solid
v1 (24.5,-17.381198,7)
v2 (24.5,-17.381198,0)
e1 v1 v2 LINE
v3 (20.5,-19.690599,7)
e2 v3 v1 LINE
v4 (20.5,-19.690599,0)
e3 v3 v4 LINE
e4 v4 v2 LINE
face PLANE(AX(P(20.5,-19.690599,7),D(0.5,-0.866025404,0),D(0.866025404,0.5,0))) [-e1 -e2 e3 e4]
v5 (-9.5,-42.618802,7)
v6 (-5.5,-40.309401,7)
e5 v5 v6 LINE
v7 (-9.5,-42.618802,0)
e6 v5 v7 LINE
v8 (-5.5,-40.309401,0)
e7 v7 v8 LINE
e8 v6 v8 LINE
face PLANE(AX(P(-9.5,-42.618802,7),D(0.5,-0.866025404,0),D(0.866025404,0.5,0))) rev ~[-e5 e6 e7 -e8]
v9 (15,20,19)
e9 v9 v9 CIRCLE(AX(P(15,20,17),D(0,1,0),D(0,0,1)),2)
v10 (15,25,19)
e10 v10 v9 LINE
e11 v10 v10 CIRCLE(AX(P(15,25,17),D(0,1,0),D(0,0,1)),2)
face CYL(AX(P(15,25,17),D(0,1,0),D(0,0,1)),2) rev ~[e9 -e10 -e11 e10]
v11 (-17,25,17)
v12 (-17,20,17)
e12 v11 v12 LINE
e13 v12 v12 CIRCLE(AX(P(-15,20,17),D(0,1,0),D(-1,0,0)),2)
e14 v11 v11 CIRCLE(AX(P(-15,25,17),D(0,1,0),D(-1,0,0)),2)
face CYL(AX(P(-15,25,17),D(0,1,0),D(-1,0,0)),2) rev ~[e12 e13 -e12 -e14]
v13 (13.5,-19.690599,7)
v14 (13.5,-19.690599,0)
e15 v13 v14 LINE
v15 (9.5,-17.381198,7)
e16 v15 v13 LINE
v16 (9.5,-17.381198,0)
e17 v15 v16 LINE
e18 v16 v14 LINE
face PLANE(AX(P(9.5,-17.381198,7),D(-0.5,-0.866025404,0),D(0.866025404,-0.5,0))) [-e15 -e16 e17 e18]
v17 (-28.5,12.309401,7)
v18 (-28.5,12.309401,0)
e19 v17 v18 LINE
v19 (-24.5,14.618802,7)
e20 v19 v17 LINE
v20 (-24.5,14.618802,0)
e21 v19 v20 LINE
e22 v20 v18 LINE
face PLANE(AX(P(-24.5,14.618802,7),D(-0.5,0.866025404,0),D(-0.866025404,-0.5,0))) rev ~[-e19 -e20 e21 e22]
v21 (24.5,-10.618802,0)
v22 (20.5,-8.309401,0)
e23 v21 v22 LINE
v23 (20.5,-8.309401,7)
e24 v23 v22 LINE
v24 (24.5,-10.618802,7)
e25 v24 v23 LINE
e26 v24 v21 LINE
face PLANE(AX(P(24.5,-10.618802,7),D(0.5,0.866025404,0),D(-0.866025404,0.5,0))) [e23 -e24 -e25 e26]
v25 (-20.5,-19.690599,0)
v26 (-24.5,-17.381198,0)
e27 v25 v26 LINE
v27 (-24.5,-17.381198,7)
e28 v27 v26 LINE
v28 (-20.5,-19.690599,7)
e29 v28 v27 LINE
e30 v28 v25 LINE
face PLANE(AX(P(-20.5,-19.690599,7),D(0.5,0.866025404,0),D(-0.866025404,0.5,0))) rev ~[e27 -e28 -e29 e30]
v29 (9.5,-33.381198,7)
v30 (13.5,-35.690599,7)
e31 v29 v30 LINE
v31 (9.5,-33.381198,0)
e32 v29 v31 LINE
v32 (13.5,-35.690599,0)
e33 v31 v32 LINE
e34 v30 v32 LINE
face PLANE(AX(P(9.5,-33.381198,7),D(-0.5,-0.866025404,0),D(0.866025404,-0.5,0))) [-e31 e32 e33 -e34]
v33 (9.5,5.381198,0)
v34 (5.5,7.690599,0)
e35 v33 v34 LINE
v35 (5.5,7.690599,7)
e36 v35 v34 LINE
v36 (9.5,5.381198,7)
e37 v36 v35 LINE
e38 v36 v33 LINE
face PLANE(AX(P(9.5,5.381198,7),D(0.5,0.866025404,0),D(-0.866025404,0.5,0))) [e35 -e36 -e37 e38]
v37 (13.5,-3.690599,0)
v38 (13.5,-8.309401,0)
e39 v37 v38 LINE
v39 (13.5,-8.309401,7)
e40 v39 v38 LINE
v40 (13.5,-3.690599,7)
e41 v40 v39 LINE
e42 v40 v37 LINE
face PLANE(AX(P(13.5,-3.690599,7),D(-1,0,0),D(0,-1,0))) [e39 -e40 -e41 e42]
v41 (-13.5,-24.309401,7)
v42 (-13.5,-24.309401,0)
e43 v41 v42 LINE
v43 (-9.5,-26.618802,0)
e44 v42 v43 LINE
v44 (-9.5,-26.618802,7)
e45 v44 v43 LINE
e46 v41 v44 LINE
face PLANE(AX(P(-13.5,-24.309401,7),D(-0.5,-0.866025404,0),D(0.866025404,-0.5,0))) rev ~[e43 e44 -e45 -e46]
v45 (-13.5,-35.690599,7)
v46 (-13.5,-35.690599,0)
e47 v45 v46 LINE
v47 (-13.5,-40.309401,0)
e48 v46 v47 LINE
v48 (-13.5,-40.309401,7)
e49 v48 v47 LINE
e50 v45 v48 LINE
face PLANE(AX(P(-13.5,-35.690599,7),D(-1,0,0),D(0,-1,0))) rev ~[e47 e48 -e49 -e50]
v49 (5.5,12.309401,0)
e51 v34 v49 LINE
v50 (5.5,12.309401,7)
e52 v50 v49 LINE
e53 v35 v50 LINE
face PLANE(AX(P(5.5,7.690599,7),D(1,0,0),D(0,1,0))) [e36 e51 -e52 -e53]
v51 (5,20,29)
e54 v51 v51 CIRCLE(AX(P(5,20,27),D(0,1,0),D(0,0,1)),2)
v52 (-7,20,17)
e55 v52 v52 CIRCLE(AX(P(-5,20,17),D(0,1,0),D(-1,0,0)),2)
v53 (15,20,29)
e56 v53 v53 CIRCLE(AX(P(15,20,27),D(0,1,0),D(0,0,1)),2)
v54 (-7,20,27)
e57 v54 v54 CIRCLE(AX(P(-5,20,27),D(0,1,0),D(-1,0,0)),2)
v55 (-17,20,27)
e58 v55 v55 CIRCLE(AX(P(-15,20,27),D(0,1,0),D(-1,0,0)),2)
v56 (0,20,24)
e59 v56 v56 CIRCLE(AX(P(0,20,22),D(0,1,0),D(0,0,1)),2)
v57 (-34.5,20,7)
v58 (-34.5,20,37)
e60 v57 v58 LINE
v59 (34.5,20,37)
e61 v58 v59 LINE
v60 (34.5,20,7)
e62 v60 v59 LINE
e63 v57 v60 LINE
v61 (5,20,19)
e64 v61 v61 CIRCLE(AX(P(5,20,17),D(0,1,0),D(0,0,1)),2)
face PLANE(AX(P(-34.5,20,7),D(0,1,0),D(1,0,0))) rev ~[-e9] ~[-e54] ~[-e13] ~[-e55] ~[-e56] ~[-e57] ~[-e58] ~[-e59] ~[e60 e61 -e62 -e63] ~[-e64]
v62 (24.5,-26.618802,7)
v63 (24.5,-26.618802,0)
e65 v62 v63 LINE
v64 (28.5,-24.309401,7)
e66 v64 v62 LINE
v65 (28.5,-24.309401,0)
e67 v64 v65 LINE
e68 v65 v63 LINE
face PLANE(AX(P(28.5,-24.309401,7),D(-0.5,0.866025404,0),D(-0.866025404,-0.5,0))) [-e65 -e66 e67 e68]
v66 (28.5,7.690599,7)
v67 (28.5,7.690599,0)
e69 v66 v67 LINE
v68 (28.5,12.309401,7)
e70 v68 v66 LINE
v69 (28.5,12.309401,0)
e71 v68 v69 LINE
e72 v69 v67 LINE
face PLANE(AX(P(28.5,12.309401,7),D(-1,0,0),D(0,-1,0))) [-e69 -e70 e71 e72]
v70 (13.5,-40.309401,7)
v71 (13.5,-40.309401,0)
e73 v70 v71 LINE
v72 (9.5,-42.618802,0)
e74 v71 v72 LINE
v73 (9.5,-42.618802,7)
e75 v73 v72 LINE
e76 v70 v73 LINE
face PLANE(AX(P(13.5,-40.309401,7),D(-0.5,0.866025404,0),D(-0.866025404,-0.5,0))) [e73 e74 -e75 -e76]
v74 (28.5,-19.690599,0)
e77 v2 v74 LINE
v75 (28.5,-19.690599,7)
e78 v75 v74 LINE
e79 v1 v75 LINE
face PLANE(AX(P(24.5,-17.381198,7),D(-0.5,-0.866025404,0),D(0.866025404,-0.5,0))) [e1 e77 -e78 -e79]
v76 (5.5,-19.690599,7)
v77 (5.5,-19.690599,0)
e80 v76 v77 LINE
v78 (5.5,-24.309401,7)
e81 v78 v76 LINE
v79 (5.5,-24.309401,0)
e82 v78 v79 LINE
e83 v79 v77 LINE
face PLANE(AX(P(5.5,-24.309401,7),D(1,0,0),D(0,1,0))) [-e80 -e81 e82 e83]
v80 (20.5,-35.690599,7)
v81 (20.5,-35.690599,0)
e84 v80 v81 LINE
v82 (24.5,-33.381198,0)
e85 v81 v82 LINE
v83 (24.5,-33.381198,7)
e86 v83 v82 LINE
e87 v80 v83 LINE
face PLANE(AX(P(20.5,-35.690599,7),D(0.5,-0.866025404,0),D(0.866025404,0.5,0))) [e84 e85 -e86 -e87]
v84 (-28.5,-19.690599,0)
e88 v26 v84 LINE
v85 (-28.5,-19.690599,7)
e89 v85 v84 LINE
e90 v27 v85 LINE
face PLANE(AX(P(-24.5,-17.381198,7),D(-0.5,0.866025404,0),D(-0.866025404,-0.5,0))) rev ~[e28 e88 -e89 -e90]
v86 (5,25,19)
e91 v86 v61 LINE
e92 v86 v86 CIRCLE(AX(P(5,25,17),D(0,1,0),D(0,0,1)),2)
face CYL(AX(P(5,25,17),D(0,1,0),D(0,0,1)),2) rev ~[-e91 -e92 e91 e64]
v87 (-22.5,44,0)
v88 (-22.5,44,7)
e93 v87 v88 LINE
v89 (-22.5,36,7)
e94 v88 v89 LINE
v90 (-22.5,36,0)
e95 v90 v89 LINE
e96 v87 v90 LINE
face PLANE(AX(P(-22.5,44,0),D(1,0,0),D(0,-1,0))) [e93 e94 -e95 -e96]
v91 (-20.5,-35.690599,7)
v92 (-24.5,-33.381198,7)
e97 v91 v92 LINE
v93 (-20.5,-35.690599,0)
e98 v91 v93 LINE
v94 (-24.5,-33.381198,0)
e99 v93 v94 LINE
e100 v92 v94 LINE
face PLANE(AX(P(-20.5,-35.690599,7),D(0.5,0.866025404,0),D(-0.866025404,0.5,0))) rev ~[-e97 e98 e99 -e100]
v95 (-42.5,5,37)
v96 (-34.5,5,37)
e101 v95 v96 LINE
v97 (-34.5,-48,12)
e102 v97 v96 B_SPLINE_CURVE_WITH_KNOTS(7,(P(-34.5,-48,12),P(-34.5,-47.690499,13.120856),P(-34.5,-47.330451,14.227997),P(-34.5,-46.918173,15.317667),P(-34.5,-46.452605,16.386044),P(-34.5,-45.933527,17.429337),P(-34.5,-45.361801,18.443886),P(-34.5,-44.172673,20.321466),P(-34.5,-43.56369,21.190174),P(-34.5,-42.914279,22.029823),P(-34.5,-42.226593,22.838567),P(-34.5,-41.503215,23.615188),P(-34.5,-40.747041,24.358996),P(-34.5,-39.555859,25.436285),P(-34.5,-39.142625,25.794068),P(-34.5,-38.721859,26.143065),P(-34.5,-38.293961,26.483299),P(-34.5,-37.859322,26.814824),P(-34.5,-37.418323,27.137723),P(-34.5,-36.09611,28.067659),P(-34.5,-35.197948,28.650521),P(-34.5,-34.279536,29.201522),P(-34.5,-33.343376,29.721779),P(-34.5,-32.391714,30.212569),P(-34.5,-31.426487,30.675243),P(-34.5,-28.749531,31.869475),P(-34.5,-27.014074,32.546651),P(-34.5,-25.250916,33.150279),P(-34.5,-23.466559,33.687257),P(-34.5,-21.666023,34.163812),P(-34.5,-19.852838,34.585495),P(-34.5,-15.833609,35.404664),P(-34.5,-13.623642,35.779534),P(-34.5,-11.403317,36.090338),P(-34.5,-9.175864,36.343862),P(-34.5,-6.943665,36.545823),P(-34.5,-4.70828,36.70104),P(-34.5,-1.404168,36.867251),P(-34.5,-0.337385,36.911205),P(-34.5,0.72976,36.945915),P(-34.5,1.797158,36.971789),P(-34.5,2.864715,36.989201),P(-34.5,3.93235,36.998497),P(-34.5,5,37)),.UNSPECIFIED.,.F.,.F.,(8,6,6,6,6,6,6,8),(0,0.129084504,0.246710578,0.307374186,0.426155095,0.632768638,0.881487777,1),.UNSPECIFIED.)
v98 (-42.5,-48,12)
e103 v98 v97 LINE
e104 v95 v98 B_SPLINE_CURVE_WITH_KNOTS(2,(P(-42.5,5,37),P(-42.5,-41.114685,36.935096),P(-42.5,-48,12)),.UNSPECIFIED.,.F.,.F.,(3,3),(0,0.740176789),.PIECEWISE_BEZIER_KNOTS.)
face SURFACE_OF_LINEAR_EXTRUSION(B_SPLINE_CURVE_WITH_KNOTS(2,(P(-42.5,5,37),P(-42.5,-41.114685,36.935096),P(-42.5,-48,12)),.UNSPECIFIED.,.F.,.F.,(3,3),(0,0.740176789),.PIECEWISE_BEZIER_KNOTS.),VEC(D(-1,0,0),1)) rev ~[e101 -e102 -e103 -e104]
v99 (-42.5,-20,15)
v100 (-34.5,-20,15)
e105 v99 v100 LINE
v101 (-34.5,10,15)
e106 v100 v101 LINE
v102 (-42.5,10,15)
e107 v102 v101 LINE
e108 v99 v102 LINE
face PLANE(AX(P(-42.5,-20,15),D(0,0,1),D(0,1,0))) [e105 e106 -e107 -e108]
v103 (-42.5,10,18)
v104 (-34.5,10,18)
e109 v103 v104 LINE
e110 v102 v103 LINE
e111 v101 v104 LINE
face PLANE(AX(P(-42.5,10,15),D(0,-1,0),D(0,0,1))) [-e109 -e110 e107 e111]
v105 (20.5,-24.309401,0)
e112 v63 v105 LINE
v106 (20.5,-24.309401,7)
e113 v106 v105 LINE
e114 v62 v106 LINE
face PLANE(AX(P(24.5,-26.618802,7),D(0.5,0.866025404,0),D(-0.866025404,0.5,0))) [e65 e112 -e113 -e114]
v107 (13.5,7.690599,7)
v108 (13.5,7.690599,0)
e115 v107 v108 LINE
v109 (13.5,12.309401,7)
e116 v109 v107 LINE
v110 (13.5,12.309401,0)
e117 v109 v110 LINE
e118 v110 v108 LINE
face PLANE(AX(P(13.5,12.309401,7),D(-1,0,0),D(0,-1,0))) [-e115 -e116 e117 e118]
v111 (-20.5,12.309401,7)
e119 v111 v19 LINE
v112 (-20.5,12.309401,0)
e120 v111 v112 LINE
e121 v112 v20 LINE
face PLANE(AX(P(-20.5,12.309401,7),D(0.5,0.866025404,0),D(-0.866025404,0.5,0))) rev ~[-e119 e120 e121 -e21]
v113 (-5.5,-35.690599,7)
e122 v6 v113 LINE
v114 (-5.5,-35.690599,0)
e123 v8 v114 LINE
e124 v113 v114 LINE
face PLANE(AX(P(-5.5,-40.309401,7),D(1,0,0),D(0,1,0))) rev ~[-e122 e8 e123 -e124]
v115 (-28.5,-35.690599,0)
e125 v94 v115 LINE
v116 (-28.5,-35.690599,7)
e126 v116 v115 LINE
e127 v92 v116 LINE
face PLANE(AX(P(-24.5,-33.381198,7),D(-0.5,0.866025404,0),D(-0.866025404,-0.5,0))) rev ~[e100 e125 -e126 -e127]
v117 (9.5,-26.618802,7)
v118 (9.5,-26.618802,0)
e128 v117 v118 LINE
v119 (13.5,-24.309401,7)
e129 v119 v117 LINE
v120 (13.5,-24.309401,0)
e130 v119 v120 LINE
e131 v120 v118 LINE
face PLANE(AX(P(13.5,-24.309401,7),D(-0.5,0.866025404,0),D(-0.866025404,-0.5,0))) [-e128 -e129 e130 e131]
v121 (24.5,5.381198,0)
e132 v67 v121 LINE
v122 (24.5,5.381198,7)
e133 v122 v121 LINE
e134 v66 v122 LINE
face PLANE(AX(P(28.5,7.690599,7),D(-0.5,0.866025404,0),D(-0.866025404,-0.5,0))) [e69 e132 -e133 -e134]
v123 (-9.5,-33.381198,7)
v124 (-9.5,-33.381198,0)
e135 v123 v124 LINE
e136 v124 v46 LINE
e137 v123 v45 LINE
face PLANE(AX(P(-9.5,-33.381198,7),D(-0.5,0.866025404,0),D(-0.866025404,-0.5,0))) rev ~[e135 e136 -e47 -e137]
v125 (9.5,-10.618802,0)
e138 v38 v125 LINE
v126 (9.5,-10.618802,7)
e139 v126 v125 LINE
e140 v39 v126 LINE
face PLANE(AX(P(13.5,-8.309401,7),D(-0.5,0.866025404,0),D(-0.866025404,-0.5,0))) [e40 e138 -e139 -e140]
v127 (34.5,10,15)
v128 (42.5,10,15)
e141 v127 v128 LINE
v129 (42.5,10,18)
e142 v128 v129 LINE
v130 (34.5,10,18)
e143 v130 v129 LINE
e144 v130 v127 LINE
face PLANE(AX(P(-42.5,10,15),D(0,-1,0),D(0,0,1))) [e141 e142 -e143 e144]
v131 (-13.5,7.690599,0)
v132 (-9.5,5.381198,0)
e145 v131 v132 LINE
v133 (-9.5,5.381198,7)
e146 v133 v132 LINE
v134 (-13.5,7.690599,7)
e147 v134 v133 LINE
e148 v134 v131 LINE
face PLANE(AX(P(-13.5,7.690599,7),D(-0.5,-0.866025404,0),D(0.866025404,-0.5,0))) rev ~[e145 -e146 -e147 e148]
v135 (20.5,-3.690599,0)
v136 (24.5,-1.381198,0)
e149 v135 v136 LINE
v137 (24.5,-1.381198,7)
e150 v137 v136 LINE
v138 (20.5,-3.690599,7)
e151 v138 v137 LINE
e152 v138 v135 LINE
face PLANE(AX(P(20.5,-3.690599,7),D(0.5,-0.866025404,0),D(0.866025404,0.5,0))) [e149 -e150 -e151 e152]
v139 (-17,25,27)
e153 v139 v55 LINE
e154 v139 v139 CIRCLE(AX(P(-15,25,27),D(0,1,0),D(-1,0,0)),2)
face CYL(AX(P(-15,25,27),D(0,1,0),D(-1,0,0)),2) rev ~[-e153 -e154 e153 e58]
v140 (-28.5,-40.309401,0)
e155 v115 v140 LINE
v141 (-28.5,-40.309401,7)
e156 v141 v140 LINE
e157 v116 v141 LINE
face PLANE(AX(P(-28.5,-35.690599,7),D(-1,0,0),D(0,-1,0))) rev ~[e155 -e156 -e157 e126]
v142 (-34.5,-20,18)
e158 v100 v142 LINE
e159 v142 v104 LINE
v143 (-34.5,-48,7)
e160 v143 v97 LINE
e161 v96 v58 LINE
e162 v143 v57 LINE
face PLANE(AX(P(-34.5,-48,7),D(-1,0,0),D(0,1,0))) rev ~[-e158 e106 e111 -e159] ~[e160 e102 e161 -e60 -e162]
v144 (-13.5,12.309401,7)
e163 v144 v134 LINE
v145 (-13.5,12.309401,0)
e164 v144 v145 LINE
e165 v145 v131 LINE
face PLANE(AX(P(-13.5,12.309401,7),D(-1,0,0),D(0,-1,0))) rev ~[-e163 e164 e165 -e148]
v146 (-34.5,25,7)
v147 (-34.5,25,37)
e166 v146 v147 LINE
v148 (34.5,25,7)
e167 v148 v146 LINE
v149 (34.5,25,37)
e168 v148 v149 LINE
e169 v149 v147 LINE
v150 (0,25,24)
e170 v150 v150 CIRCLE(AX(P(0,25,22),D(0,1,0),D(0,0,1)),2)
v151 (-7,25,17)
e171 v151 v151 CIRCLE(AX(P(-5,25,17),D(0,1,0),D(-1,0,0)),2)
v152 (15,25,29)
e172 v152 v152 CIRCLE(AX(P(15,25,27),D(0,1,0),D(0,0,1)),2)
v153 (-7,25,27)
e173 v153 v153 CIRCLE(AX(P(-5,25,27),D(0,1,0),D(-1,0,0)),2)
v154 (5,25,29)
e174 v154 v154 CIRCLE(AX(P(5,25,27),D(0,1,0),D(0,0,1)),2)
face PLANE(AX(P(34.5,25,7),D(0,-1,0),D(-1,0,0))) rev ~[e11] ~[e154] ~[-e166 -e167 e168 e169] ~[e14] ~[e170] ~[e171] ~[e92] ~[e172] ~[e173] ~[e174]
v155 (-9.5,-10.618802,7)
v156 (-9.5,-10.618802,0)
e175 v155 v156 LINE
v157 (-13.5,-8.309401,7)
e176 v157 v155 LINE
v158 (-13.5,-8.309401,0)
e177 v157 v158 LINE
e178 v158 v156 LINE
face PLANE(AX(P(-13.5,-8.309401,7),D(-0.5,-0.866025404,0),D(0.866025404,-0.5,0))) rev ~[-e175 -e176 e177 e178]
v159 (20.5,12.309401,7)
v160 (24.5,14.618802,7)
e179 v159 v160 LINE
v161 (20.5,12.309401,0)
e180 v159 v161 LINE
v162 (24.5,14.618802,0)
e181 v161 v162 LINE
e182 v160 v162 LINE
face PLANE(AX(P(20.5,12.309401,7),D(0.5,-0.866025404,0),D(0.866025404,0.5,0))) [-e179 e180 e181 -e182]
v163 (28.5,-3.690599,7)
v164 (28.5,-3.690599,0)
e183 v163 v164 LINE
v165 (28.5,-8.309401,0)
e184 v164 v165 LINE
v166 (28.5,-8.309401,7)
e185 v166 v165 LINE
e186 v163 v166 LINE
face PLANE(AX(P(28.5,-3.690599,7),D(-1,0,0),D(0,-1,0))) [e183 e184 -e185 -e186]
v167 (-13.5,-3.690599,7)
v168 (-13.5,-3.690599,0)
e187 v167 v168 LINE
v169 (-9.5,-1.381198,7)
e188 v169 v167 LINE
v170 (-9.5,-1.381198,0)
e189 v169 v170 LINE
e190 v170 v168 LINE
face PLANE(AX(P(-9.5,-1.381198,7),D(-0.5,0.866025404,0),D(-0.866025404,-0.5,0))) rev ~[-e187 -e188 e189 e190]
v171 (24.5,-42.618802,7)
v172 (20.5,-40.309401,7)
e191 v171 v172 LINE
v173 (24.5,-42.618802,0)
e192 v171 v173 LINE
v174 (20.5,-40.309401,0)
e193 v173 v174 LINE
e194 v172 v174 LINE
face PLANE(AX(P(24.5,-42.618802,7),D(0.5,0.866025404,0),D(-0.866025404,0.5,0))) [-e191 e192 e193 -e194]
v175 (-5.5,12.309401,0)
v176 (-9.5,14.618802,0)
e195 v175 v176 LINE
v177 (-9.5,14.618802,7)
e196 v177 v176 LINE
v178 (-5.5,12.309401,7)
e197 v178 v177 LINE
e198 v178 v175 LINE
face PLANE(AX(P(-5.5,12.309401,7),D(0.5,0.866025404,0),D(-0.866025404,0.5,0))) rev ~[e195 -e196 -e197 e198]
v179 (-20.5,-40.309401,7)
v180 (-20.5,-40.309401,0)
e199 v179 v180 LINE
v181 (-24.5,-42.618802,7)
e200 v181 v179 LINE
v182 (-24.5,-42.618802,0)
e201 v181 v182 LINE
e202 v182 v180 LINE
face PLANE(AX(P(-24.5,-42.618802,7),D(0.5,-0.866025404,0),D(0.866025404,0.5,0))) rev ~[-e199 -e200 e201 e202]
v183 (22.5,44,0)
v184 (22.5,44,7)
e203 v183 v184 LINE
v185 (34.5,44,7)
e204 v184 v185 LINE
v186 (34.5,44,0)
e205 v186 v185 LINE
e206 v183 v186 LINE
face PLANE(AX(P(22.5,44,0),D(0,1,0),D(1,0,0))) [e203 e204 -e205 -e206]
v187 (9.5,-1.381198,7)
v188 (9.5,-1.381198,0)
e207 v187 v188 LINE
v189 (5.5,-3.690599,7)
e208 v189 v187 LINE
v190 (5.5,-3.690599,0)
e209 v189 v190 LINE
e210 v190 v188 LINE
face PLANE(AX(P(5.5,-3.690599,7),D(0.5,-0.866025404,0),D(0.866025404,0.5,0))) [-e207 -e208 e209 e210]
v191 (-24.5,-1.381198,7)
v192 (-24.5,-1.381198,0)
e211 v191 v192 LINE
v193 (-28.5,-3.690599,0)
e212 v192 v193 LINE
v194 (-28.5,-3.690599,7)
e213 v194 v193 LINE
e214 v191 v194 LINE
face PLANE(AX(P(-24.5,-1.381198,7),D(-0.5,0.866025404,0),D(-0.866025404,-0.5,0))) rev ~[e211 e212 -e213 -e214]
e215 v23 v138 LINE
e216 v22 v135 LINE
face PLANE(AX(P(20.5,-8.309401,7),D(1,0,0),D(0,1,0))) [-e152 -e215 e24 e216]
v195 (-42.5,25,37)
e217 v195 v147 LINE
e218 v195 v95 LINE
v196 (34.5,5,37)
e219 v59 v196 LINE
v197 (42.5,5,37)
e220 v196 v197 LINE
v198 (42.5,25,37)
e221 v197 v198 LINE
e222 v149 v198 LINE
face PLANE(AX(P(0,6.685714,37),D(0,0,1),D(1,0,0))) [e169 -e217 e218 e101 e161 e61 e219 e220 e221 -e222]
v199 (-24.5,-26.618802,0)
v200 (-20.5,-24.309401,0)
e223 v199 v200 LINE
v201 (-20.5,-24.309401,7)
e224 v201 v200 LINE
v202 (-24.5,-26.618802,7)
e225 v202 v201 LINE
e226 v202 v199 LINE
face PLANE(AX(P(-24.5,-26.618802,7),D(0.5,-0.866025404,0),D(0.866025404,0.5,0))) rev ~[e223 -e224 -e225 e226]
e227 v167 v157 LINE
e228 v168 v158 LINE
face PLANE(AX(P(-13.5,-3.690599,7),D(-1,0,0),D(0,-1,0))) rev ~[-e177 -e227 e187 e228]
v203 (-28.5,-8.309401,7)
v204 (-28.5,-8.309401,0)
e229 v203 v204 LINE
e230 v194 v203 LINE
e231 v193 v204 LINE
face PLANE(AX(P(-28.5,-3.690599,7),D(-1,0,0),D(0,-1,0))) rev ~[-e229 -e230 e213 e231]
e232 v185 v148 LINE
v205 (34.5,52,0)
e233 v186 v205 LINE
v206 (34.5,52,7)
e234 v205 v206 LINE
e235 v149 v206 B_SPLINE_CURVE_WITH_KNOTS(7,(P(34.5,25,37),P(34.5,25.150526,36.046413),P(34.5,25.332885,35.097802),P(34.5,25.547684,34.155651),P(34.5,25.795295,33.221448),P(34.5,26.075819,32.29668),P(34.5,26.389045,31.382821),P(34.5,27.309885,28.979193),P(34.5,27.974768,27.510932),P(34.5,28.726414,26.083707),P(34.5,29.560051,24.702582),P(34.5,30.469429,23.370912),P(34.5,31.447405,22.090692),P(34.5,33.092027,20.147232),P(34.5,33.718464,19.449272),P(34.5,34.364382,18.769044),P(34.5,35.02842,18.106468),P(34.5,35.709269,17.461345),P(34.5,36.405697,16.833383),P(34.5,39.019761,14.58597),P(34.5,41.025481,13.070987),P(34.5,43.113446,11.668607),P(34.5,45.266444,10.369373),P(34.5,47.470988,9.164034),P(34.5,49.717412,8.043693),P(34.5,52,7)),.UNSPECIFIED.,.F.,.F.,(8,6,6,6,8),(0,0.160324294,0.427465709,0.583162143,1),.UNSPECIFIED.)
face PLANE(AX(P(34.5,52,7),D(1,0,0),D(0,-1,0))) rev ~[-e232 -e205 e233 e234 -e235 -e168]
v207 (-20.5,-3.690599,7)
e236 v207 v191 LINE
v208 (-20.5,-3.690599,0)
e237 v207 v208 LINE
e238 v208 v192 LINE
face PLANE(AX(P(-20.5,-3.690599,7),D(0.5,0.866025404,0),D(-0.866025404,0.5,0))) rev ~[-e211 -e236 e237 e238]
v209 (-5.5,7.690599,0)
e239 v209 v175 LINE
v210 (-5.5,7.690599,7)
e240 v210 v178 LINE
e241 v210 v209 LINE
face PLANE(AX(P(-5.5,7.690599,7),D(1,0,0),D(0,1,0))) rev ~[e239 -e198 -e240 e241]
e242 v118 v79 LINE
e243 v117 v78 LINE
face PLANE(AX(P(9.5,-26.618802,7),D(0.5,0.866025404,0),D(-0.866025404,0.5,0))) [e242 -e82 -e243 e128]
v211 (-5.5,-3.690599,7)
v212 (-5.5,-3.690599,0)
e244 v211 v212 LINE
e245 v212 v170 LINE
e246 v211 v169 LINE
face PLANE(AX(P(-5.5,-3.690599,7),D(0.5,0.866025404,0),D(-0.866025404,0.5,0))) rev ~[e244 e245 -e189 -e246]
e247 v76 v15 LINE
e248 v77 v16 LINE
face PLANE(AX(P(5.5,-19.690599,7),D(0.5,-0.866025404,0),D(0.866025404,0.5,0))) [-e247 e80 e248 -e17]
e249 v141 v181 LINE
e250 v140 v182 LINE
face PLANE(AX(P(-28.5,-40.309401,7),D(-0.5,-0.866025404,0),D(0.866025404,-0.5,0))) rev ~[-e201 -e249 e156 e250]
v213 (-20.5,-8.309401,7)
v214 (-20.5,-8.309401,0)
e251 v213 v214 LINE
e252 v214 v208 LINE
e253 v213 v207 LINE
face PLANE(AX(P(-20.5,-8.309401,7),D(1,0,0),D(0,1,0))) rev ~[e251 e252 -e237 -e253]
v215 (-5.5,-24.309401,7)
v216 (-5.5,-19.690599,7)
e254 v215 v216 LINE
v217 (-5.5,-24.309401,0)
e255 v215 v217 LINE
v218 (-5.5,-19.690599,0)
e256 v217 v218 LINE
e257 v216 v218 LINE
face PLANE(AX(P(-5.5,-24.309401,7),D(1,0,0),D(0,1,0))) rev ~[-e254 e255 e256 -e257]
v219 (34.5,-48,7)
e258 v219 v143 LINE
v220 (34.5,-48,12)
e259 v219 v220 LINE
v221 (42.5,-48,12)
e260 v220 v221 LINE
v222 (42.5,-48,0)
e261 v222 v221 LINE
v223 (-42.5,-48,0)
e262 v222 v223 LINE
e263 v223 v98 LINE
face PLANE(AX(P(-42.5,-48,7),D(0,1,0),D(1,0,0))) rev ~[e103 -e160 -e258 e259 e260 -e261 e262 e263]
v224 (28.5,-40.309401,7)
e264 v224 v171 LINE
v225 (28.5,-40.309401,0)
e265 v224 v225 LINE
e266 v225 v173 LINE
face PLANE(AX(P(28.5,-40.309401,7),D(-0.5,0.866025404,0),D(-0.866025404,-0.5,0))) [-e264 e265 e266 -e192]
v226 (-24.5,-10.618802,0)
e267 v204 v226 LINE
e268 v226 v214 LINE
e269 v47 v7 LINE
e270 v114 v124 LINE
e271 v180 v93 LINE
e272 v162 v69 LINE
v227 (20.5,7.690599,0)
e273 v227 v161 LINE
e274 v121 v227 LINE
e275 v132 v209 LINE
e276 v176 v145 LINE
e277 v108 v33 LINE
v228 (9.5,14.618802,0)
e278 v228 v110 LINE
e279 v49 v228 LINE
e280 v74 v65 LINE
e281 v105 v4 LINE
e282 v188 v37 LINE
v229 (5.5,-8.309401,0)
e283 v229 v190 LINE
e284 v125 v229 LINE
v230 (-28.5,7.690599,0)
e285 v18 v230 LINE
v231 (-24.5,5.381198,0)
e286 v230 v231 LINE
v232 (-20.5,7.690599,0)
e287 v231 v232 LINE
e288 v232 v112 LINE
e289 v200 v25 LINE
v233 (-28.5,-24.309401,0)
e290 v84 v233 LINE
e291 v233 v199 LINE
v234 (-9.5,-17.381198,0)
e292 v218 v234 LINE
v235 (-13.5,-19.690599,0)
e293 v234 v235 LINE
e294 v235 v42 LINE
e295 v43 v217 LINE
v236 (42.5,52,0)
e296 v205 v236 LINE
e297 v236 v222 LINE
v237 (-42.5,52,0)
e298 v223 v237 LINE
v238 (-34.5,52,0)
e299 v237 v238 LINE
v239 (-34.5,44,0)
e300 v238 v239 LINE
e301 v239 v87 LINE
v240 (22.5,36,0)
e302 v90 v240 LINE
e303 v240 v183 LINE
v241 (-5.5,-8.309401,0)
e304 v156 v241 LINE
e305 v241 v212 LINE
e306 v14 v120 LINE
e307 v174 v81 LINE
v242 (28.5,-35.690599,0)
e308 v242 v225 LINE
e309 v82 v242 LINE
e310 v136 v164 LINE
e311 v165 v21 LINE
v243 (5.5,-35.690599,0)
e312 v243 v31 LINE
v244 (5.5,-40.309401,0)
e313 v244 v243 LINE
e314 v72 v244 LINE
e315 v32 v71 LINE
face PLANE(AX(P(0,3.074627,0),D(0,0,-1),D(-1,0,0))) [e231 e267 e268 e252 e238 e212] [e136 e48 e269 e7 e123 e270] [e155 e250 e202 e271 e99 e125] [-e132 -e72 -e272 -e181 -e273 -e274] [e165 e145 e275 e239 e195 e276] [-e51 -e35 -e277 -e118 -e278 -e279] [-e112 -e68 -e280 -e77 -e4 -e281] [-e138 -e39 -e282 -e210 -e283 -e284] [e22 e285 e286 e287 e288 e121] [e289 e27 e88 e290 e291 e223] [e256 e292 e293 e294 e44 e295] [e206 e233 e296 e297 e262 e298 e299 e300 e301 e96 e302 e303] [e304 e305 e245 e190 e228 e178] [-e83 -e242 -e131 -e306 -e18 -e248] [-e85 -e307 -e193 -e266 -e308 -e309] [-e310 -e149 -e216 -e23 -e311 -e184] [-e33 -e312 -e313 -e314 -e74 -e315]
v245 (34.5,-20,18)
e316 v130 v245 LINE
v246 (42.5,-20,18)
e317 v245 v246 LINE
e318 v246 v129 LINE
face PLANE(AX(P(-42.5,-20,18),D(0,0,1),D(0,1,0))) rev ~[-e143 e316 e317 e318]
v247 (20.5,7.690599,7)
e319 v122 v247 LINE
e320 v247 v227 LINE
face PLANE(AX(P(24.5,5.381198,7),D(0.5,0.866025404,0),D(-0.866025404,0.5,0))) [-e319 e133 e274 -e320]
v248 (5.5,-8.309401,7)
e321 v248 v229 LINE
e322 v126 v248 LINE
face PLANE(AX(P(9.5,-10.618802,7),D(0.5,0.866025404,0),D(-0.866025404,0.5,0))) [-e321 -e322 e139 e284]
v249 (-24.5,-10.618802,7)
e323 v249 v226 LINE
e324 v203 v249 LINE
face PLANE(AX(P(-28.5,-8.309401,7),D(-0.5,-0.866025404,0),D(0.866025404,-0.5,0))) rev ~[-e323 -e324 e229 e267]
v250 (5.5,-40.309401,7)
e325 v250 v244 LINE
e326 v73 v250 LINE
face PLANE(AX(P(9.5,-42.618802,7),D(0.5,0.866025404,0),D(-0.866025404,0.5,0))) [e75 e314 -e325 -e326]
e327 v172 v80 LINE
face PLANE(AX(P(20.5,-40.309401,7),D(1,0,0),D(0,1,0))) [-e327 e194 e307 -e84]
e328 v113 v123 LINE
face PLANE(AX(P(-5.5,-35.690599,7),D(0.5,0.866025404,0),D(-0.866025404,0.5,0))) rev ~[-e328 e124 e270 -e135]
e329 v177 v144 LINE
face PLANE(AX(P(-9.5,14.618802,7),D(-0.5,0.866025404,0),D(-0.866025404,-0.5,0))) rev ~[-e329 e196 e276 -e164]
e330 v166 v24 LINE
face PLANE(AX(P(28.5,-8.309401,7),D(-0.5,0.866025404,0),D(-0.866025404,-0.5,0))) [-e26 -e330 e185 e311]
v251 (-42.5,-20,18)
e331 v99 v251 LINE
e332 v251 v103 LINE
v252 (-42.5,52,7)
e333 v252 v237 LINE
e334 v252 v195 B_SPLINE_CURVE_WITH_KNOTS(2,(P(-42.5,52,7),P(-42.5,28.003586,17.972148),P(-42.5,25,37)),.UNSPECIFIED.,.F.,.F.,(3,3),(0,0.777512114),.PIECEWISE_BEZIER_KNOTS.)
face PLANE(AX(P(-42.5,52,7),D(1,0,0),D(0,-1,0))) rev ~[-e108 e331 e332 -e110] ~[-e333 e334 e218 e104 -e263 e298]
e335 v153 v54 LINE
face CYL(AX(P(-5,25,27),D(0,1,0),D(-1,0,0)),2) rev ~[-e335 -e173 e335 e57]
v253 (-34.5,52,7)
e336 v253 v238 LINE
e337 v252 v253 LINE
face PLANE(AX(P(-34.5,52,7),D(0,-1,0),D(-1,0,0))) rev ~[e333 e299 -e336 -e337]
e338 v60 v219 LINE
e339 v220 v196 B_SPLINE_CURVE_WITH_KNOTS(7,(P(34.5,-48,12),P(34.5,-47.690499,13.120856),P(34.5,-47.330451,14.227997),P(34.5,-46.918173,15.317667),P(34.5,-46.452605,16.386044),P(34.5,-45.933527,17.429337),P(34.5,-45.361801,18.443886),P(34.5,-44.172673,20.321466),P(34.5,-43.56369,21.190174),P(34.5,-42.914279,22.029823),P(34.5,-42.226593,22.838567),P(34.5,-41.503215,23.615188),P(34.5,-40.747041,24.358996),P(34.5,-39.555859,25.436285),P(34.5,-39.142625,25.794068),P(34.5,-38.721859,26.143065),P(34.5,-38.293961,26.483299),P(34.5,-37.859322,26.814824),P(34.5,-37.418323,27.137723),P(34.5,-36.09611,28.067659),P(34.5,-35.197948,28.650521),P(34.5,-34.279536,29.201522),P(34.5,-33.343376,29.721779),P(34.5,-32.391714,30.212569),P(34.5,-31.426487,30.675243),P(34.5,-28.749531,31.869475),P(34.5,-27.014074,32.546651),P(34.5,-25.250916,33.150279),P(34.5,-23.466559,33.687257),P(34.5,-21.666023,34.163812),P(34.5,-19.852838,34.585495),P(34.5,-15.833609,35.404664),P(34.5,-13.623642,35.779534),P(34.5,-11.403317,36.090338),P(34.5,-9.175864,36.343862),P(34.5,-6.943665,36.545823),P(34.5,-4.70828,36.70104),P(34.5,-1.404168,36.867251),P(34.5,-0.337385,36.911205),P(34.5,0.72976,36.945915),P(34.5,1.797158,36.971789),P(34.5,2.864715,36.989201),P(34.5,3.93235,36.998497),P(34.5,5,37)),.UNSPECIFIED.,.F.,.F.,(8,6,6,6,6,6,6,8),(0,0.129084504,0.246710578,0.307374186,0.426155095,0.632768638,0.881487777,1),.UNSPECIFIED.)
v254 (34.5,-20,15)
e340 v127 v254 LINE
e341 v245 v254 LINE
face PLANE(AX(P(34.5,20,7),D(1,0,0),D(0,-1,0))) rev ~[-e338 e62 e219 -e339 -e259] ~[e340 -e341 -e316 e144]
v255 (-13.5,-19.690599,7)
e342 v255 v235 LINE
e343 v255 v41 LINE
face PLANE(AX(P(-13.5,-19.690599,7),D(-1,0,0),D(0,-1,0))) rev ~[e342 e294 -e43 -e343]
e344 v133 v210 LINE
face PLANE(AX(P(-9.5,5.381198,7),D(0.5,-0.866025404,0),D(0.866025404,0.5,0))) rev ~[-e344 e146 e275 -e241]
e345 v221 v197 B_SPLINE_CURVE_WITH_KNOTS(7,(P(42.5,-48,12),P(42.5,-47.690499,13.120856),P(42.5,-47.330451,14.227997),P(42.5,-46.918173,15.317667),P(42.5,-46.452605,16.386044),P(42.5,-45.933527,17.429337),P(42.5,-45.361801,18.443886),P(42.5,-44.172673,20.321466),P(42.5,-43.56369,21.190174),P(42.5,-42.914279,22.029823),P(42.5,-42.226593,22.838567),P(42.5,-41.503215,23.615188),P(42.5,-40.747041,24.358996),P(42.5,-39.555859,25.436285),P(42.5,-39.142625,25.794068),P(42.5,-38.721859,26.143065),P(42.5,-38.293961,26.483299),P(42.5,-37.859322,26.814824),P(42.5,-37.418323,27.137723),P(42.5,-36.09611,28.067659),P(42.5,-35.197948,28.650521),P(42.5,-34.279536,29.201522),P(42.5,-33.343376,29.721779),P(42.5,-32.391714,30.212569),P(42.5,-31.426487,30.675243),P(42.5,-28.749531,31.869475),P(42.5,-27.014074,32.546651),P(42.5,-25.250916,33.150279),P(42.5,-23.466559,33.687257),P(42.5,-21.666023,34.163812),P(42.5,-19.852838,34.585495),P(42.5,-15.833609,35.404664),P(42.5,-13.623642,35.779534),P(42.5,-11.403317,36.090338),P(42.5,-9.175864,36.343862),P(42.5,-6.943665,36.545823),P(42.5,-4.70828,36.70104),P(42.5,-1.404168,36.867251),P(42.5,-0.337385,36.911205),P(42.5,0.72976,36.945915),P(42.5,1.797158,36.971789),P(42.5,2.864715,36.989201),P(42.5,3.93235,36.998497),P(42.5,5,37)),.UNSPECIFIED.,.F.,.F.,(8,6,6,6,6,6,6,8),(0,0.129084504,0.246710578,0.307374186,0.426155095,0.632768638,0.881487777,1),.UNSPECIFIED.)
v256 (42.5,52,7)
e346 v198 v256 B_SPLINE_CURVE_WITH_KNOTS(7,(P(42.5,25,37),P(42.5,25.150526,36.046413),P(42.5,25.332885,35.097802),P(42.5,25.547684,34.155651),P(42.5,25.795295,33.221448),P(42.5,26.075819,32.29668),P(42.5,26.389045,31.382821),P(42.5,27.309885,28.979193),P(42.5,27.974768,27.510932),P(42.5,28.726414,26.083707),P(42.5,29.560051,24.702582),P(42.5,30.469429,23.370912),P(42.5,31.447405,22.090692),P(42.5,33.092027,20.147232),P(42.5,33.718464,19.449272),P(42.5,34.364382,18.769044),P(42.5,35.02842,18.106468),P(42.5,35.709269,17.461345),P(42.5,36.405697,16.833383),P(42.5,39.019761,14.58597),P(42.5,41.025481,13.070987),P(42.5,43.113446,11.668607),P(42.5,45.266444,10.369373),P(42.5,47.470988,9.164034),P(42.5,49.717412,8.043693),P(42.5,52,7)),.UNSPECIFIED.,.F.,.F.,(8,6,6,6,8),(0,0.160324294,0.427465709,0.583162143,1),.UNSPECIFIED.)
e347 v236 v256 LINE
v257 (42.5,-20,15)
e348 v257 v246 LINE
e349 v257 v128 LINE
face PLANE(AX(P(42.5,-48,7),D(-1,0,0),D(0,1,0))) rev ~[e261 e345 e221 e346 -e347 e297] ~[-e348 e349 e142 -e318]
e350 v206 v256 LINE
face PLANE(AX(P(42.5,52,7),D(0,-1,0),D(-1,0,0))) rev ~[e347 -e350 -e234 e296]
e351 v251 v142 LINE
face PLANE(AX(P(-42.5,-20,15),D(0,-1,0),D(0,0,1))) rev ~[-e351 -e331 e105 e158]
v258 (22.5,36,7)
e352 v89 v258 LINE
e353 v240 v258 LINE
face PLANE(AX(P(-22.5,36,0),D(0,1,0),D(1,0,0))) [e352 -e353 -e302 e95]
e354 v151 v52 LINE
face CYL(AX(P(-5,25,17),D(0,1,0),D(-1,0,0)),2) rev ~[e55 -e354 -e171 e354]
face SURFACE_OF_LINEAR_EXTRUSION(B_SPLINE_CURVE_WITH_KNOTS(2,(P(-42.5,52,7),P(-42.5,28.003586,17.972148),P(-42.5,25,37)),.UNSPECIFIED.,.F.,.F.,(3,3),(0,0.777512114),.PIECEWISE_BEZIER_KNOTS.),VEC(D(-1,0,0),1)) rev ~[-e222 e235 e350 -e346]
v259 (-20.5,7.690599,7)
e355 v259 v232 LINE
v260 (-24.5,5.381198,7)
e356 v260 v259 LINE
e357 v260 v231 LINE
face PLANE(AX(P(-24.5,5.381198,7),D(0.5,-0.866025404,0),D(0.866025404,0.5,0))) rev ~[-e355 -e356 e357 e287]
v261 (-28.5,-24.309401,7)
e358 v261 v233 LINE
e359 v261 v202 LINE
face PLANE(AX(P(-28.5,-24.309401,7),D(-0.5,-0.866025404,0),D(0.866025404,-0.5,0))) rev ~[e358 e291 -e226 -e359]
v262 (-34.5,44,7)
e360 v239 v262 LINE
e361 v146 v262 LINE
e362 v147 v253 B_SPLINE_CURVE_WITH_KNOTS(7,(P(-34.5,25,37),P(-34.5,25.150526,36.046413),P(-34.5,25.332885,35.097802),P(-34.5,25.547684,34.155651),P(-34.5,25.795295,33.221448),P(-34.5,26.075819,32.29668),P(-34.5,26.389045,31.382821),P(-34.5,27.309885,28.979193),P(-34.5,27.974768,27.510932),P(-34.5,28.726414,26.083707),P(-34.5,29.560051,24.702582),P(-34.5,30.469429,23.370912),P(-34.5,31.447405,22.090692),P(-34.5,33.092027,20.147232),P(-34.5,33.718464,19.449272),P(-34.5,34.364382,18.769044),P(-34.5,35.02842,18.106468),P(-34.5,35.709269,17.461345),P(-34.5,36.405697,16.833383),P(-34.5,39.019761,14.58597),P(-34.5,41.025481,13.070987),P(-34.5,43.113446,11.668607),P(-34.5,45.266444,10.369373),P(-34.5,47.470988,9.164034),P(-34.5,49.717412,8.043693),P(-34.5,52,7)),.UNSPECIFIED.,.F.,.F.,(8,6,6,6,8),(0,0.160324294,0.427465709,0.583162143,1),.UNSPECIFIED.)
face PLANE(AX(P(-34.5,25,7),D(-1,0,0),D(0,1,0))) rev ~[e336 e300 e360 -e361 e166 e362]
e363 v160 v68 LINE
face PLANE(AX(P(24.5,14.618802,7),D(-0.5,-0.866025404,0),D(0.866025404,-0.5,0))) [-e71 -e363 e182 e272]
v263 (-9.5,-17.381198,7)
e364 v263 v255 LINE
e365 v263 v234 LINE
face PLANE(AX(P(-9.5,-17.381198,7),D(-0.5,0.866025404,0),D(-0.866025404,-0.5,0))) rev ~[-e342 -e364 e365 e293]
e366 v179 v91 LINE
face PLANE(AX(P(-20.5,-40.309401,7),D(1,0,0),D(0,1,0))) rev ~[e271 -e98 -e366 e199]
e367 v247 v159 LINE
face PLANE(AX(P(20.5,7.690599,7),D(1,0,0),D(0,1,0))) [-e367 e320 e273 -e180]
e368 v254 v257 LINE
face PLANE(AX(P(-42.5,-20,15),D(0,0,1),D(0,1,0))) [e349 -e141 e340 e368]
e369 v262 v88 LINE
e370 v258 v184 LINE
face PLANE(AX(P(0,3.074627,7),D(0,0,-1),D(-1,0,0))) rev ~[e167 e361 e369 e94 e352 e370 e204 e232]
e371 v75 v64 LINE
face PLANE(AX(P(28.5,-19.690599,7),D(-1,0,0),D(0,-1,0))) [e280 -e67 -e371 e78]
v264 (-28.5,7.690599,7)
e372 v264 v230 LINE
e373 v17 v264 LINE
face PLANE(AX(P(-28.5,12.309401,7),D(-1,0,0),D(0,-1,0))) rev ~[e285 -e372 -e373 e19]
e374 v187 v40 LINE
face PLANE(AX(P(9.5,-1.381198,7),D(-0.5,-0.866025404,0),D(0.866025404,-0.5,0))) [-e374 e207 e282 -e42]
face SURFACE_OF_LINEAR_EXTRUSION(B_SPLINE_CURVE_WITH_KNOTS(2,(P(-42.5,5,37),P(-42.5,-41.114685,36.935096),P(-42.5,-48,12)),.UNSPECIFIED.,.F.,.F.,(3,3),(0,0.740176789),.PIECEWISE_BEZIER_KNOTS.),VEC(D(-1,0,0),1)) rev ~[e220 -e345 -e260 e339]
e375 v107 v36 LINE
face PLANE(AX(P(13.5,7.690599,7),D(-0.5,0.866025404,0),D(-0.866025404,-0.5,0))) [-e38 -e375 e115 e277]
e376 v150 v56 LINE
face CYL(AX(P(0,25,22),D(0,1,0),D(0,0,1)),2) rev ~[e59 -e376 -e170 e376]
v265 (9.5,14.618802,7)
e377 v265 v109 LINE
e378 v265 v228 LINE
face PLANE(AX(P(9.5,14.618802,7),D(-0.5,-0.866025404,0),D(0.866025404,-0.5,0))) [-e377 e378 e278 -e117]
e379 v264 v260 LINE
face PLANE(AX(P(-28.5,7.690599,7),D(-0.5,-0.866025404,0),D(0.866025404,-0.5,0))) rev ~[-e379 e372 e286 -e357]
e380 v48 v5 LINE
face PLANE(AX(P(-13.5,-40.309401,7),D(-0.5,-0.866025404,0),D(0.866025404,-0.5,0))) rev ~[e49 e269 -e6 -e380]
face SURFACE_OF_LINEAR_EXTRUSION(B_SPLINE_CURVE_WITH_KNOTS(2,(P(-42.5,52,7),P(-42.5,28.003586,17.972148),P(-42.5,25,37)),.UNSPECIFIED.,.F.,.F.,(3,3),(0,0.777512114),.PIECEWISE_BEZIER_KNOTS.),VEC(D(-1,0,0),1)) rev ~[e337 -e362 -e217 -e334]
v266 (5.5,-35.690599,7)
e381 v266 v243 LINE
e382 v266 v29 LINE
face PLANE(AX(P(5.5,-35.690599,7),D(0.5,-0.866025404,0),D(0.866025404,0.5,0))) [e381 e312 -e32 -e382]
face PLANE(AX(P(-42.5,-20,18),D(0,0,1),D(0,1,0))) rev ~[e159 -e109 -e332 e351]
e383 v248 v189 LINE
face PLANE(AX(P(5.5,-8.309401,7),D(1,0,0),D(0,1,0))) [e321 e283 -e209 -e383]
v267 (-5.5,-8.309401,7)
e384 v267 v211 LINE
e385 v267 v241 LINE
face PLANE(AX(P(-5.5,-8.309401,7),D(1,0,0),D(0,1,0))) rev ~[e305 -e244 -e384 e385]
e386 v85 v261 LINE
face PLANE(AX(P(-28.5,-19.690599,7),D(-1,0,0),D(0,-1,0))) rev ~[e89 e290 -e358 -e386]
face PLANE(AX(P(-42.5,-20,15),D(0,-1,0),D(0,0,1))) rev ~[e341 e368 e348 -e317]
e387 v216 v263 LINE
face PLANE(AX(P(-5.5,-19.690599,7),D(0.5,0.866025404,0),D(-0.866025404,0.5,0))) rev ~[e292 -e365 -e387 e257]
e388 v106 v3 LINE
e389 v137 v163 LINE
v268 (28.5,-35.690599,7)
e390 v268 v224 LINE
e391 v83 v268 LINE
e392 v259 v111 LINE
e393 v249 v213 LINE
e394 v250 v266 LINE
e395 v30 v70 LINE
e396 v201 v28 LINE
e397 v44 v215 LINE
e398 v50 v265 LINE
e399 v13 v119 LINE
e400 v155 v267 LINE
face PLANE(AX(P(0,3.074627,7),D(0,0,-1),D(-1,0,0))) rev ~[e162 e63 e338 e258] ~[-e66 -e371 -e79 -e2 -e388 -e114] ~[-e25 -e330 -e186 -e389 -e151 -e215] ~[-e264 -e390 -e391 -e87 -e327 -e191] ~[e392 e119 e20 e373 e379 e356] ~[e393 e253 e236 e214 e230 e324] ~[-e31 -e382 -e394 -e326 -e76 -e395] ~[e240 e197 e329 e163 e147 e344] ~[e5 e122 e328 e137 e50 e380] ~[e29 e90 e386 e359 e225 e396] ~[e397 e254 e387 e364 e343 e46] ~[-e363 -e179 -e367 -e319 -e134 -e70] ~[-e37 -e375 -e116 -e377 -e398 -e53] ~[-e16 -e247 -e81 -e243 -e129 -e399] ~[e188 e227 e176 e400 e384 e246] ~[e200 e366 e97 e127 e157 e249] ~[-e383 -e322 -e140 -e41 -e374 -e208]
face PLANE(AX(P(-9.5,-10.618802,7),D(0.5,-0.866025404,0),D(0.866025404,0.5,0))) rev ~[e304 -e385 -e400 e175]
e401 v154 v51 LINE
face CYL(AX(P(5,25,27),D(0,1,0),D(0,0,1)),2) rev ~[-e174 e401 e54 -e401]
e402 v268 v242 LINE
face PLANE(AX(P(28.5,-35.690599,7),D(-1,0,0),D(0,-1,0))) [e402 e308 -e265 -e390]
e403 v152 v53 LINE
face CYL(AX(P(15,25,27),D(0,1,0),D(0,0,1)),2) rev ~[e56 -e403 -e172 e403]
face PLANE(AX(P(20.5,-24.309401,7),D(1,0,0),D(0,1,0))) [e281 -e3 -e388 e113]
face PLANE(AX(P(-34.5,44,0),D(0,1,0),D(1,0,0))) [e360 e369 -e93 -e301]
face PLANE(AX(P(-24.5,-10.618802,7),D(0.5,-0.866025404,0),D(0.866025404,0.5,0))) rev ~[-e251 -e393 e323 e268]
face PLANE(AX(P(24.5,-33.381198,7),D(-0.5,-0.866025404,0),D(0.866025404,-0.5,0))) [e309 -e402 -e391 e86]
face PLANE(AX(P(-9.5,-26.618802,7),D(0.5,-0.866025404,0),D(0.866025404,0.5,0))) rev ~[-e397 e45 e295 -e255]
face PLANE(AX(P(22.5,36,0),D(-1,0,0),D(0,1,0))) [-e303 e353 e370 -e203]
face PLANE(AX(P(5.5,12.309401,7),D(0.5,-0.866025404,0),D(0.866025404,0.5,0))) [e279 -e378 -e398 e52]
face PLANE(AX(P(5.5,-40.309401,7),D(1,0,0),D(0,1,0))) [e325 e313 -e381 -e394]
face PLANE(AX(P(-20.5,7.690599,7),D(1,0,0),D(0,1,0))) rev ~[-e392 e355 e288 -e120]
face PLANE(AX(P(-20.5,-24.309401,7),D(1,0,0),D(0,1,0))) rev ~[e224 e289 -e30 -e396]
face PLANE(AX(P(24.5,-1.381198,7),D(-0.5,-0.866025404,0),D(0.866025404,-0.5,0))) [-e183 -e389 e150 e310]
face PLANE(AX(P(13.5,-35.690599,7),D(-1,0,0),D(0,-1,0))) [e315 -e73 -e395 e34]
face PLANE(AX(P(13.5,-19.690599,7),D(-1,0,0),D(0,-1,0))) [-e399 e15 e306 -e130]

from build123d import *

# Parameters (mm, degrees)
SALIENTE_EXTRUIR1_DEPTH = 7
SALIENTE_EXTRUIR2_DEPTH = 30
CORTAR_EXTRUIR3_REACH   = 108.292
CROQUIS3_W              = 3
CROQUIS3_H              = 30
CORTAR_EXTRUIR4_DEPTH   = 7
CROQUIS5_R              = 2
CORTAR_EXTRUIR5_DEPTH   = 5


with BuildPart() as part:
    # Croquis1 → Saliente-Extruir1 (new body)
    with BuildSketch(Plane.XY):
        Polygon((-42.5, 52), (-34.5, 52), (-34.5, 44), (-22.5, 44), (-22.5, 36), (22.5, 36), (22.5, 44), (34.5, 44), (34.5, 52), (42.5, 52), (42.5, -48), (-42.5, -48), align=None)
    extrude(amount=SALIENTE_EXTRUIR1_DEPTH)

    # Croquis2 → Saliente-Extruir2 (add)
    with BuildSketch(Plane.XY.offset(7)):
        Polygon((-42.5, 52), (-42.5, -48), (-34.5, -48), (-34.5, 20), (34.5, 20), (34.5, -48), (42.5, -48), (42.5, 52), (34.5, 52), (34.5, 25), (-34.5, 25), (-34.5, 52), align=None)
    extrude(amount=SALIENTE_EXTRUIR2_DEPTH)

    # Cortar-Extruir3: up to this face of the body (flat: up to its plane)
    cortar_extruir3_end = Plane(part.part.faces().sort_by_distance((42.5, 2, 18.5))[0])
    # Croquis3 → Cortar-Extruir3 (cut, up to the picked face)
    with BuildSketch(Plane.ZY.offset(42.5), mode=Mode.PRIVATE) as cortar_extruir3_sk1:
        with BuildLine():
            Line((37, 52), (7, 52))
            add(Edge.make_bspline(
                [(7, 52), (17.9721482, 28.003586462), (37, 25)],
                knots=[0, 0, 0, 0.777512114, 0.777512114, 0.777512114], degree=2))
            Line((37, 25), (37, 52))
        make_face()
    cortar_extruir3_tool1 = split(extrude(cortar_extruir3_sk1.sketch, amount=-CORTAR_EXTRUIR3_REACH, mode=Mode.PRIVATE), bisect_by=cortar_extruir3_end, keep=Keep.BOTH, mode=Mode.PRIVATE)
    # Croquis3 → Cortar-Extruir3 (cut, up to the picked face)
    with BuildSketch(Plane.ZY.offset(42.5), mode=Mode.PRIVATE) as cortar_extruir3_sk2:
        with BuildLine():
            Line((37, -48), (37, 5))
            add(Edge.make_bspline(
                [(37, 5), (36.935096366, -41.11468491), (12, -48)],
                knots=[0, 0, 0, 0.740176789, 0.740176789, 0.740176789], degree=2))
            Line((12, -48), (37, -48))
        make_face()
    cortar_extruir3_tool2 = split(extrude(cortar_extruir3_sk2.sketch, amount=-CORTAR_EXTRUIR3_REACH, mode=Mode.PRIVATE), bisect_by=cortar_extruir3_end, keep=Keep.BOTH, mode=Mode.PRIVATE)
    # Croquis3 → Cortar-Extruir3 (cut, up to the picked face)
    with BuildSketch(Plane.ZY.offset(42.5), mode=Mode.PRIVATE) as cortar_extruir3_sk3:
        with Locations((16.5, -5)):
            Rectangle(CROQUIS3_W, CROQUIS3_H)
    cortar_extruir3_tool3 = split(extrude(cortar_extruir3_sk3.sketch, amount=-CORTAR_EXTRUIR3_REACH, mode=Mode.PRIVATE), bisect_by=cortar_extruir3_end, keep=Keep.BOTH, mode=Mode.PRIVATE)
    add(cortar_extruir3_tool1.solids().sort_by(Axis((-42.5, 41.293865, 25.499066), (1, 0, 0)))[0], mode=Mode.SUBTRACT)
    add(cortar_extruir3_tool2.solids().sort_by(Axis((-42.5, -37.068003, 30.970324), (1, 0, 0)))[0], mode=Mode.SUBTRACT)
    add(cortar_extruir3_tool3.solids().sort_by(Axis((-42.5, -5, 16.5), (1, 0, 0)))[0], mode=Mode.SUBTRACT)

    # Croquis4 → Cortar-Extruir4 (cut)
    with BuildSketch(Plane.XY.offset(7)):
        Polygon((-13.5, 12.309401077), (-13.5, 7.690598923), (-9.5, 5.381197846), (-5.5, 7.690598923), (-5.5, 12.309401077), (-9.5, 14.618802154), align=None)
        Polygon((-24.5, -10.618802154), (-20.5, -8.309401077), (-20.5, -3.690598923), (-24.5, -1.381197846), (-28.5, -3.690598923), (-28.5, -8.309401077), align=None)
        Polygon((-24.5, 5.381197846), (-20.5, 7.690598923), (-20.5, 12.309401077), (-24.5, 14.618802154), (-28.5, 12.309401077), (-28.5, 7.690598923), align=None)
        Polygon((-24.5, -26.618802154), (-20.5, -24.309401077), (-20.5, -19.690598923), (-24.5, -17.381197846), (-28.5, -19.690598923), (-28.5, -24.309401077), align=None)
        Polygon((-24.5, -42.618802154), (-20.5, -40.309401077), (-20.5, -35.690598923), (-24.5, -33.381197846), (-28.5, -35.690598923), (-28.5, -40.309401077), align=None)
        Polygon((-9.5, -10.618802154), (-5.5, -8.309401077), (-5.5, -3.690598923), (-9.5, -1.381197846), (-13.5, -3.690598923), (-13.5, -8.309401077), align=None)
        Polygon((-9.5, -26.618802154), (-5.5, -24.309401077), (-5.5, -19.690598923), (-9.5, -17.381197846), (-13.5, -19.690598923), (-13.5, -24.309401077), align=None)
        Polygon((-9.5, -42.618802154), (-5.5, -40.309401077), (-5.5, -35.690598923), (-9.5, -33.381197846), (-13.5, -35.690598923), (-13.5, -40.309401077), align=None)
        Polygon((13.5, -40.309401077), (9.5, -42.618802154), (5.5, -40.309401077), (5.5, -35.690598923), (9.5, -33.381197846), (13.5, -35.690598923), align=None)
        Polygon((28.5, -40.309401077), (24.5, -42.618802154), (20.5, -40.309401077), (20.5, -35.690598923), (24.5, -33.381197846), (28.5, -35.690598923), align=None)
        Polygon((28.5, -24.309401077), (24.5, -26.618802154), (20.5, -24.309401077), (20.5, -19.690598923), (24.5, -17.381197846), (28.5, -19.690598923), align=None)
        Polygon((13.5, -24.309401077), (9.5, -26.618802154), (5.5, -24.309401077), (5.5, -19.690598923), (9.5, -17.381197846), (13.5, -19.690598923), align=None)
        Polygon((13.5, -8.309401077), (9.5, -10.618802154), (5.5, -8.309401077), (5.5, -3.690598923), (9.5, -1.381197846), (13.5, -3.690598923), align=None)
        Polygon((28.5, -8.309401077), (24.5, -10.618802154), (20.5, -8.309401077), (20.5, -3.690598923), (24.5, -1.381197846), (28.5, -3.690598923), align=None)
        Polygon((28.5, 7.690598923), (24.5, 5.381197846), (20.5, 7.690598923), (20.5, 12.309401077), (24.5, 14.618802154), (28.5, 12.309401077), align=None)
        Polygon((9.5, 14.618802154), (13.5, 12.309401077), (13.5, 7.690598923), (9.5, 5.381197846), (5.5, 7.690598923), (5.5, 12.309401077), align=None)
    extrude(amount=-CORTAR_EXTRUIR4_DEPTH, mode=Mode.SUBTRACT)

    # Croquis5 → Cortar-Extruir5 (cut)
    with BuildSketch(Plane(origin=(0, 25, 0), x_dir=(1, 0, 0), z_dir=(0, 1, 0))):
        with Locations(Location((0, -22, 0), (0, 0, 270))):
            Circle(CROQUIS5_R)
        with Locations(Location((5, -17, 0), (0, 0, 270))):
            Circle(CROQUIS5_R)
        with Locations(Location((5, -27, 0), (0, 0, 270))):
            Circle(CROQUIS5_R)
        with Locations(Location((-5, -27, 0), (0, 0, 180))):
            Circle(CROQUIS5_R)
        with Locations(Location((-5, -17, 0), (0, 0, 180))):
            Circle(CROQUIS5_R)
        with Locations(Location((15, -17, 0), (0, 0, 270))):
            Circle(CROQUIS5_R)
        with Locations(Location((15, -27, 0), (0, 0, 270))):
            Circle(CROQUIS5_R)
        with Locations(Location((-15, -17, 0), (0, 0, 180))):
            Circle(CROQUIS5_R)
        with Locations(Location((-15, -27, 0), (0, 0, 180))):
            Circle(CROQUIS5_R)
    extrude(amount=-CORTAR_EXTRUIR5_DEPTH, mode=Mode.SUBTRACT)


solid = part.part
